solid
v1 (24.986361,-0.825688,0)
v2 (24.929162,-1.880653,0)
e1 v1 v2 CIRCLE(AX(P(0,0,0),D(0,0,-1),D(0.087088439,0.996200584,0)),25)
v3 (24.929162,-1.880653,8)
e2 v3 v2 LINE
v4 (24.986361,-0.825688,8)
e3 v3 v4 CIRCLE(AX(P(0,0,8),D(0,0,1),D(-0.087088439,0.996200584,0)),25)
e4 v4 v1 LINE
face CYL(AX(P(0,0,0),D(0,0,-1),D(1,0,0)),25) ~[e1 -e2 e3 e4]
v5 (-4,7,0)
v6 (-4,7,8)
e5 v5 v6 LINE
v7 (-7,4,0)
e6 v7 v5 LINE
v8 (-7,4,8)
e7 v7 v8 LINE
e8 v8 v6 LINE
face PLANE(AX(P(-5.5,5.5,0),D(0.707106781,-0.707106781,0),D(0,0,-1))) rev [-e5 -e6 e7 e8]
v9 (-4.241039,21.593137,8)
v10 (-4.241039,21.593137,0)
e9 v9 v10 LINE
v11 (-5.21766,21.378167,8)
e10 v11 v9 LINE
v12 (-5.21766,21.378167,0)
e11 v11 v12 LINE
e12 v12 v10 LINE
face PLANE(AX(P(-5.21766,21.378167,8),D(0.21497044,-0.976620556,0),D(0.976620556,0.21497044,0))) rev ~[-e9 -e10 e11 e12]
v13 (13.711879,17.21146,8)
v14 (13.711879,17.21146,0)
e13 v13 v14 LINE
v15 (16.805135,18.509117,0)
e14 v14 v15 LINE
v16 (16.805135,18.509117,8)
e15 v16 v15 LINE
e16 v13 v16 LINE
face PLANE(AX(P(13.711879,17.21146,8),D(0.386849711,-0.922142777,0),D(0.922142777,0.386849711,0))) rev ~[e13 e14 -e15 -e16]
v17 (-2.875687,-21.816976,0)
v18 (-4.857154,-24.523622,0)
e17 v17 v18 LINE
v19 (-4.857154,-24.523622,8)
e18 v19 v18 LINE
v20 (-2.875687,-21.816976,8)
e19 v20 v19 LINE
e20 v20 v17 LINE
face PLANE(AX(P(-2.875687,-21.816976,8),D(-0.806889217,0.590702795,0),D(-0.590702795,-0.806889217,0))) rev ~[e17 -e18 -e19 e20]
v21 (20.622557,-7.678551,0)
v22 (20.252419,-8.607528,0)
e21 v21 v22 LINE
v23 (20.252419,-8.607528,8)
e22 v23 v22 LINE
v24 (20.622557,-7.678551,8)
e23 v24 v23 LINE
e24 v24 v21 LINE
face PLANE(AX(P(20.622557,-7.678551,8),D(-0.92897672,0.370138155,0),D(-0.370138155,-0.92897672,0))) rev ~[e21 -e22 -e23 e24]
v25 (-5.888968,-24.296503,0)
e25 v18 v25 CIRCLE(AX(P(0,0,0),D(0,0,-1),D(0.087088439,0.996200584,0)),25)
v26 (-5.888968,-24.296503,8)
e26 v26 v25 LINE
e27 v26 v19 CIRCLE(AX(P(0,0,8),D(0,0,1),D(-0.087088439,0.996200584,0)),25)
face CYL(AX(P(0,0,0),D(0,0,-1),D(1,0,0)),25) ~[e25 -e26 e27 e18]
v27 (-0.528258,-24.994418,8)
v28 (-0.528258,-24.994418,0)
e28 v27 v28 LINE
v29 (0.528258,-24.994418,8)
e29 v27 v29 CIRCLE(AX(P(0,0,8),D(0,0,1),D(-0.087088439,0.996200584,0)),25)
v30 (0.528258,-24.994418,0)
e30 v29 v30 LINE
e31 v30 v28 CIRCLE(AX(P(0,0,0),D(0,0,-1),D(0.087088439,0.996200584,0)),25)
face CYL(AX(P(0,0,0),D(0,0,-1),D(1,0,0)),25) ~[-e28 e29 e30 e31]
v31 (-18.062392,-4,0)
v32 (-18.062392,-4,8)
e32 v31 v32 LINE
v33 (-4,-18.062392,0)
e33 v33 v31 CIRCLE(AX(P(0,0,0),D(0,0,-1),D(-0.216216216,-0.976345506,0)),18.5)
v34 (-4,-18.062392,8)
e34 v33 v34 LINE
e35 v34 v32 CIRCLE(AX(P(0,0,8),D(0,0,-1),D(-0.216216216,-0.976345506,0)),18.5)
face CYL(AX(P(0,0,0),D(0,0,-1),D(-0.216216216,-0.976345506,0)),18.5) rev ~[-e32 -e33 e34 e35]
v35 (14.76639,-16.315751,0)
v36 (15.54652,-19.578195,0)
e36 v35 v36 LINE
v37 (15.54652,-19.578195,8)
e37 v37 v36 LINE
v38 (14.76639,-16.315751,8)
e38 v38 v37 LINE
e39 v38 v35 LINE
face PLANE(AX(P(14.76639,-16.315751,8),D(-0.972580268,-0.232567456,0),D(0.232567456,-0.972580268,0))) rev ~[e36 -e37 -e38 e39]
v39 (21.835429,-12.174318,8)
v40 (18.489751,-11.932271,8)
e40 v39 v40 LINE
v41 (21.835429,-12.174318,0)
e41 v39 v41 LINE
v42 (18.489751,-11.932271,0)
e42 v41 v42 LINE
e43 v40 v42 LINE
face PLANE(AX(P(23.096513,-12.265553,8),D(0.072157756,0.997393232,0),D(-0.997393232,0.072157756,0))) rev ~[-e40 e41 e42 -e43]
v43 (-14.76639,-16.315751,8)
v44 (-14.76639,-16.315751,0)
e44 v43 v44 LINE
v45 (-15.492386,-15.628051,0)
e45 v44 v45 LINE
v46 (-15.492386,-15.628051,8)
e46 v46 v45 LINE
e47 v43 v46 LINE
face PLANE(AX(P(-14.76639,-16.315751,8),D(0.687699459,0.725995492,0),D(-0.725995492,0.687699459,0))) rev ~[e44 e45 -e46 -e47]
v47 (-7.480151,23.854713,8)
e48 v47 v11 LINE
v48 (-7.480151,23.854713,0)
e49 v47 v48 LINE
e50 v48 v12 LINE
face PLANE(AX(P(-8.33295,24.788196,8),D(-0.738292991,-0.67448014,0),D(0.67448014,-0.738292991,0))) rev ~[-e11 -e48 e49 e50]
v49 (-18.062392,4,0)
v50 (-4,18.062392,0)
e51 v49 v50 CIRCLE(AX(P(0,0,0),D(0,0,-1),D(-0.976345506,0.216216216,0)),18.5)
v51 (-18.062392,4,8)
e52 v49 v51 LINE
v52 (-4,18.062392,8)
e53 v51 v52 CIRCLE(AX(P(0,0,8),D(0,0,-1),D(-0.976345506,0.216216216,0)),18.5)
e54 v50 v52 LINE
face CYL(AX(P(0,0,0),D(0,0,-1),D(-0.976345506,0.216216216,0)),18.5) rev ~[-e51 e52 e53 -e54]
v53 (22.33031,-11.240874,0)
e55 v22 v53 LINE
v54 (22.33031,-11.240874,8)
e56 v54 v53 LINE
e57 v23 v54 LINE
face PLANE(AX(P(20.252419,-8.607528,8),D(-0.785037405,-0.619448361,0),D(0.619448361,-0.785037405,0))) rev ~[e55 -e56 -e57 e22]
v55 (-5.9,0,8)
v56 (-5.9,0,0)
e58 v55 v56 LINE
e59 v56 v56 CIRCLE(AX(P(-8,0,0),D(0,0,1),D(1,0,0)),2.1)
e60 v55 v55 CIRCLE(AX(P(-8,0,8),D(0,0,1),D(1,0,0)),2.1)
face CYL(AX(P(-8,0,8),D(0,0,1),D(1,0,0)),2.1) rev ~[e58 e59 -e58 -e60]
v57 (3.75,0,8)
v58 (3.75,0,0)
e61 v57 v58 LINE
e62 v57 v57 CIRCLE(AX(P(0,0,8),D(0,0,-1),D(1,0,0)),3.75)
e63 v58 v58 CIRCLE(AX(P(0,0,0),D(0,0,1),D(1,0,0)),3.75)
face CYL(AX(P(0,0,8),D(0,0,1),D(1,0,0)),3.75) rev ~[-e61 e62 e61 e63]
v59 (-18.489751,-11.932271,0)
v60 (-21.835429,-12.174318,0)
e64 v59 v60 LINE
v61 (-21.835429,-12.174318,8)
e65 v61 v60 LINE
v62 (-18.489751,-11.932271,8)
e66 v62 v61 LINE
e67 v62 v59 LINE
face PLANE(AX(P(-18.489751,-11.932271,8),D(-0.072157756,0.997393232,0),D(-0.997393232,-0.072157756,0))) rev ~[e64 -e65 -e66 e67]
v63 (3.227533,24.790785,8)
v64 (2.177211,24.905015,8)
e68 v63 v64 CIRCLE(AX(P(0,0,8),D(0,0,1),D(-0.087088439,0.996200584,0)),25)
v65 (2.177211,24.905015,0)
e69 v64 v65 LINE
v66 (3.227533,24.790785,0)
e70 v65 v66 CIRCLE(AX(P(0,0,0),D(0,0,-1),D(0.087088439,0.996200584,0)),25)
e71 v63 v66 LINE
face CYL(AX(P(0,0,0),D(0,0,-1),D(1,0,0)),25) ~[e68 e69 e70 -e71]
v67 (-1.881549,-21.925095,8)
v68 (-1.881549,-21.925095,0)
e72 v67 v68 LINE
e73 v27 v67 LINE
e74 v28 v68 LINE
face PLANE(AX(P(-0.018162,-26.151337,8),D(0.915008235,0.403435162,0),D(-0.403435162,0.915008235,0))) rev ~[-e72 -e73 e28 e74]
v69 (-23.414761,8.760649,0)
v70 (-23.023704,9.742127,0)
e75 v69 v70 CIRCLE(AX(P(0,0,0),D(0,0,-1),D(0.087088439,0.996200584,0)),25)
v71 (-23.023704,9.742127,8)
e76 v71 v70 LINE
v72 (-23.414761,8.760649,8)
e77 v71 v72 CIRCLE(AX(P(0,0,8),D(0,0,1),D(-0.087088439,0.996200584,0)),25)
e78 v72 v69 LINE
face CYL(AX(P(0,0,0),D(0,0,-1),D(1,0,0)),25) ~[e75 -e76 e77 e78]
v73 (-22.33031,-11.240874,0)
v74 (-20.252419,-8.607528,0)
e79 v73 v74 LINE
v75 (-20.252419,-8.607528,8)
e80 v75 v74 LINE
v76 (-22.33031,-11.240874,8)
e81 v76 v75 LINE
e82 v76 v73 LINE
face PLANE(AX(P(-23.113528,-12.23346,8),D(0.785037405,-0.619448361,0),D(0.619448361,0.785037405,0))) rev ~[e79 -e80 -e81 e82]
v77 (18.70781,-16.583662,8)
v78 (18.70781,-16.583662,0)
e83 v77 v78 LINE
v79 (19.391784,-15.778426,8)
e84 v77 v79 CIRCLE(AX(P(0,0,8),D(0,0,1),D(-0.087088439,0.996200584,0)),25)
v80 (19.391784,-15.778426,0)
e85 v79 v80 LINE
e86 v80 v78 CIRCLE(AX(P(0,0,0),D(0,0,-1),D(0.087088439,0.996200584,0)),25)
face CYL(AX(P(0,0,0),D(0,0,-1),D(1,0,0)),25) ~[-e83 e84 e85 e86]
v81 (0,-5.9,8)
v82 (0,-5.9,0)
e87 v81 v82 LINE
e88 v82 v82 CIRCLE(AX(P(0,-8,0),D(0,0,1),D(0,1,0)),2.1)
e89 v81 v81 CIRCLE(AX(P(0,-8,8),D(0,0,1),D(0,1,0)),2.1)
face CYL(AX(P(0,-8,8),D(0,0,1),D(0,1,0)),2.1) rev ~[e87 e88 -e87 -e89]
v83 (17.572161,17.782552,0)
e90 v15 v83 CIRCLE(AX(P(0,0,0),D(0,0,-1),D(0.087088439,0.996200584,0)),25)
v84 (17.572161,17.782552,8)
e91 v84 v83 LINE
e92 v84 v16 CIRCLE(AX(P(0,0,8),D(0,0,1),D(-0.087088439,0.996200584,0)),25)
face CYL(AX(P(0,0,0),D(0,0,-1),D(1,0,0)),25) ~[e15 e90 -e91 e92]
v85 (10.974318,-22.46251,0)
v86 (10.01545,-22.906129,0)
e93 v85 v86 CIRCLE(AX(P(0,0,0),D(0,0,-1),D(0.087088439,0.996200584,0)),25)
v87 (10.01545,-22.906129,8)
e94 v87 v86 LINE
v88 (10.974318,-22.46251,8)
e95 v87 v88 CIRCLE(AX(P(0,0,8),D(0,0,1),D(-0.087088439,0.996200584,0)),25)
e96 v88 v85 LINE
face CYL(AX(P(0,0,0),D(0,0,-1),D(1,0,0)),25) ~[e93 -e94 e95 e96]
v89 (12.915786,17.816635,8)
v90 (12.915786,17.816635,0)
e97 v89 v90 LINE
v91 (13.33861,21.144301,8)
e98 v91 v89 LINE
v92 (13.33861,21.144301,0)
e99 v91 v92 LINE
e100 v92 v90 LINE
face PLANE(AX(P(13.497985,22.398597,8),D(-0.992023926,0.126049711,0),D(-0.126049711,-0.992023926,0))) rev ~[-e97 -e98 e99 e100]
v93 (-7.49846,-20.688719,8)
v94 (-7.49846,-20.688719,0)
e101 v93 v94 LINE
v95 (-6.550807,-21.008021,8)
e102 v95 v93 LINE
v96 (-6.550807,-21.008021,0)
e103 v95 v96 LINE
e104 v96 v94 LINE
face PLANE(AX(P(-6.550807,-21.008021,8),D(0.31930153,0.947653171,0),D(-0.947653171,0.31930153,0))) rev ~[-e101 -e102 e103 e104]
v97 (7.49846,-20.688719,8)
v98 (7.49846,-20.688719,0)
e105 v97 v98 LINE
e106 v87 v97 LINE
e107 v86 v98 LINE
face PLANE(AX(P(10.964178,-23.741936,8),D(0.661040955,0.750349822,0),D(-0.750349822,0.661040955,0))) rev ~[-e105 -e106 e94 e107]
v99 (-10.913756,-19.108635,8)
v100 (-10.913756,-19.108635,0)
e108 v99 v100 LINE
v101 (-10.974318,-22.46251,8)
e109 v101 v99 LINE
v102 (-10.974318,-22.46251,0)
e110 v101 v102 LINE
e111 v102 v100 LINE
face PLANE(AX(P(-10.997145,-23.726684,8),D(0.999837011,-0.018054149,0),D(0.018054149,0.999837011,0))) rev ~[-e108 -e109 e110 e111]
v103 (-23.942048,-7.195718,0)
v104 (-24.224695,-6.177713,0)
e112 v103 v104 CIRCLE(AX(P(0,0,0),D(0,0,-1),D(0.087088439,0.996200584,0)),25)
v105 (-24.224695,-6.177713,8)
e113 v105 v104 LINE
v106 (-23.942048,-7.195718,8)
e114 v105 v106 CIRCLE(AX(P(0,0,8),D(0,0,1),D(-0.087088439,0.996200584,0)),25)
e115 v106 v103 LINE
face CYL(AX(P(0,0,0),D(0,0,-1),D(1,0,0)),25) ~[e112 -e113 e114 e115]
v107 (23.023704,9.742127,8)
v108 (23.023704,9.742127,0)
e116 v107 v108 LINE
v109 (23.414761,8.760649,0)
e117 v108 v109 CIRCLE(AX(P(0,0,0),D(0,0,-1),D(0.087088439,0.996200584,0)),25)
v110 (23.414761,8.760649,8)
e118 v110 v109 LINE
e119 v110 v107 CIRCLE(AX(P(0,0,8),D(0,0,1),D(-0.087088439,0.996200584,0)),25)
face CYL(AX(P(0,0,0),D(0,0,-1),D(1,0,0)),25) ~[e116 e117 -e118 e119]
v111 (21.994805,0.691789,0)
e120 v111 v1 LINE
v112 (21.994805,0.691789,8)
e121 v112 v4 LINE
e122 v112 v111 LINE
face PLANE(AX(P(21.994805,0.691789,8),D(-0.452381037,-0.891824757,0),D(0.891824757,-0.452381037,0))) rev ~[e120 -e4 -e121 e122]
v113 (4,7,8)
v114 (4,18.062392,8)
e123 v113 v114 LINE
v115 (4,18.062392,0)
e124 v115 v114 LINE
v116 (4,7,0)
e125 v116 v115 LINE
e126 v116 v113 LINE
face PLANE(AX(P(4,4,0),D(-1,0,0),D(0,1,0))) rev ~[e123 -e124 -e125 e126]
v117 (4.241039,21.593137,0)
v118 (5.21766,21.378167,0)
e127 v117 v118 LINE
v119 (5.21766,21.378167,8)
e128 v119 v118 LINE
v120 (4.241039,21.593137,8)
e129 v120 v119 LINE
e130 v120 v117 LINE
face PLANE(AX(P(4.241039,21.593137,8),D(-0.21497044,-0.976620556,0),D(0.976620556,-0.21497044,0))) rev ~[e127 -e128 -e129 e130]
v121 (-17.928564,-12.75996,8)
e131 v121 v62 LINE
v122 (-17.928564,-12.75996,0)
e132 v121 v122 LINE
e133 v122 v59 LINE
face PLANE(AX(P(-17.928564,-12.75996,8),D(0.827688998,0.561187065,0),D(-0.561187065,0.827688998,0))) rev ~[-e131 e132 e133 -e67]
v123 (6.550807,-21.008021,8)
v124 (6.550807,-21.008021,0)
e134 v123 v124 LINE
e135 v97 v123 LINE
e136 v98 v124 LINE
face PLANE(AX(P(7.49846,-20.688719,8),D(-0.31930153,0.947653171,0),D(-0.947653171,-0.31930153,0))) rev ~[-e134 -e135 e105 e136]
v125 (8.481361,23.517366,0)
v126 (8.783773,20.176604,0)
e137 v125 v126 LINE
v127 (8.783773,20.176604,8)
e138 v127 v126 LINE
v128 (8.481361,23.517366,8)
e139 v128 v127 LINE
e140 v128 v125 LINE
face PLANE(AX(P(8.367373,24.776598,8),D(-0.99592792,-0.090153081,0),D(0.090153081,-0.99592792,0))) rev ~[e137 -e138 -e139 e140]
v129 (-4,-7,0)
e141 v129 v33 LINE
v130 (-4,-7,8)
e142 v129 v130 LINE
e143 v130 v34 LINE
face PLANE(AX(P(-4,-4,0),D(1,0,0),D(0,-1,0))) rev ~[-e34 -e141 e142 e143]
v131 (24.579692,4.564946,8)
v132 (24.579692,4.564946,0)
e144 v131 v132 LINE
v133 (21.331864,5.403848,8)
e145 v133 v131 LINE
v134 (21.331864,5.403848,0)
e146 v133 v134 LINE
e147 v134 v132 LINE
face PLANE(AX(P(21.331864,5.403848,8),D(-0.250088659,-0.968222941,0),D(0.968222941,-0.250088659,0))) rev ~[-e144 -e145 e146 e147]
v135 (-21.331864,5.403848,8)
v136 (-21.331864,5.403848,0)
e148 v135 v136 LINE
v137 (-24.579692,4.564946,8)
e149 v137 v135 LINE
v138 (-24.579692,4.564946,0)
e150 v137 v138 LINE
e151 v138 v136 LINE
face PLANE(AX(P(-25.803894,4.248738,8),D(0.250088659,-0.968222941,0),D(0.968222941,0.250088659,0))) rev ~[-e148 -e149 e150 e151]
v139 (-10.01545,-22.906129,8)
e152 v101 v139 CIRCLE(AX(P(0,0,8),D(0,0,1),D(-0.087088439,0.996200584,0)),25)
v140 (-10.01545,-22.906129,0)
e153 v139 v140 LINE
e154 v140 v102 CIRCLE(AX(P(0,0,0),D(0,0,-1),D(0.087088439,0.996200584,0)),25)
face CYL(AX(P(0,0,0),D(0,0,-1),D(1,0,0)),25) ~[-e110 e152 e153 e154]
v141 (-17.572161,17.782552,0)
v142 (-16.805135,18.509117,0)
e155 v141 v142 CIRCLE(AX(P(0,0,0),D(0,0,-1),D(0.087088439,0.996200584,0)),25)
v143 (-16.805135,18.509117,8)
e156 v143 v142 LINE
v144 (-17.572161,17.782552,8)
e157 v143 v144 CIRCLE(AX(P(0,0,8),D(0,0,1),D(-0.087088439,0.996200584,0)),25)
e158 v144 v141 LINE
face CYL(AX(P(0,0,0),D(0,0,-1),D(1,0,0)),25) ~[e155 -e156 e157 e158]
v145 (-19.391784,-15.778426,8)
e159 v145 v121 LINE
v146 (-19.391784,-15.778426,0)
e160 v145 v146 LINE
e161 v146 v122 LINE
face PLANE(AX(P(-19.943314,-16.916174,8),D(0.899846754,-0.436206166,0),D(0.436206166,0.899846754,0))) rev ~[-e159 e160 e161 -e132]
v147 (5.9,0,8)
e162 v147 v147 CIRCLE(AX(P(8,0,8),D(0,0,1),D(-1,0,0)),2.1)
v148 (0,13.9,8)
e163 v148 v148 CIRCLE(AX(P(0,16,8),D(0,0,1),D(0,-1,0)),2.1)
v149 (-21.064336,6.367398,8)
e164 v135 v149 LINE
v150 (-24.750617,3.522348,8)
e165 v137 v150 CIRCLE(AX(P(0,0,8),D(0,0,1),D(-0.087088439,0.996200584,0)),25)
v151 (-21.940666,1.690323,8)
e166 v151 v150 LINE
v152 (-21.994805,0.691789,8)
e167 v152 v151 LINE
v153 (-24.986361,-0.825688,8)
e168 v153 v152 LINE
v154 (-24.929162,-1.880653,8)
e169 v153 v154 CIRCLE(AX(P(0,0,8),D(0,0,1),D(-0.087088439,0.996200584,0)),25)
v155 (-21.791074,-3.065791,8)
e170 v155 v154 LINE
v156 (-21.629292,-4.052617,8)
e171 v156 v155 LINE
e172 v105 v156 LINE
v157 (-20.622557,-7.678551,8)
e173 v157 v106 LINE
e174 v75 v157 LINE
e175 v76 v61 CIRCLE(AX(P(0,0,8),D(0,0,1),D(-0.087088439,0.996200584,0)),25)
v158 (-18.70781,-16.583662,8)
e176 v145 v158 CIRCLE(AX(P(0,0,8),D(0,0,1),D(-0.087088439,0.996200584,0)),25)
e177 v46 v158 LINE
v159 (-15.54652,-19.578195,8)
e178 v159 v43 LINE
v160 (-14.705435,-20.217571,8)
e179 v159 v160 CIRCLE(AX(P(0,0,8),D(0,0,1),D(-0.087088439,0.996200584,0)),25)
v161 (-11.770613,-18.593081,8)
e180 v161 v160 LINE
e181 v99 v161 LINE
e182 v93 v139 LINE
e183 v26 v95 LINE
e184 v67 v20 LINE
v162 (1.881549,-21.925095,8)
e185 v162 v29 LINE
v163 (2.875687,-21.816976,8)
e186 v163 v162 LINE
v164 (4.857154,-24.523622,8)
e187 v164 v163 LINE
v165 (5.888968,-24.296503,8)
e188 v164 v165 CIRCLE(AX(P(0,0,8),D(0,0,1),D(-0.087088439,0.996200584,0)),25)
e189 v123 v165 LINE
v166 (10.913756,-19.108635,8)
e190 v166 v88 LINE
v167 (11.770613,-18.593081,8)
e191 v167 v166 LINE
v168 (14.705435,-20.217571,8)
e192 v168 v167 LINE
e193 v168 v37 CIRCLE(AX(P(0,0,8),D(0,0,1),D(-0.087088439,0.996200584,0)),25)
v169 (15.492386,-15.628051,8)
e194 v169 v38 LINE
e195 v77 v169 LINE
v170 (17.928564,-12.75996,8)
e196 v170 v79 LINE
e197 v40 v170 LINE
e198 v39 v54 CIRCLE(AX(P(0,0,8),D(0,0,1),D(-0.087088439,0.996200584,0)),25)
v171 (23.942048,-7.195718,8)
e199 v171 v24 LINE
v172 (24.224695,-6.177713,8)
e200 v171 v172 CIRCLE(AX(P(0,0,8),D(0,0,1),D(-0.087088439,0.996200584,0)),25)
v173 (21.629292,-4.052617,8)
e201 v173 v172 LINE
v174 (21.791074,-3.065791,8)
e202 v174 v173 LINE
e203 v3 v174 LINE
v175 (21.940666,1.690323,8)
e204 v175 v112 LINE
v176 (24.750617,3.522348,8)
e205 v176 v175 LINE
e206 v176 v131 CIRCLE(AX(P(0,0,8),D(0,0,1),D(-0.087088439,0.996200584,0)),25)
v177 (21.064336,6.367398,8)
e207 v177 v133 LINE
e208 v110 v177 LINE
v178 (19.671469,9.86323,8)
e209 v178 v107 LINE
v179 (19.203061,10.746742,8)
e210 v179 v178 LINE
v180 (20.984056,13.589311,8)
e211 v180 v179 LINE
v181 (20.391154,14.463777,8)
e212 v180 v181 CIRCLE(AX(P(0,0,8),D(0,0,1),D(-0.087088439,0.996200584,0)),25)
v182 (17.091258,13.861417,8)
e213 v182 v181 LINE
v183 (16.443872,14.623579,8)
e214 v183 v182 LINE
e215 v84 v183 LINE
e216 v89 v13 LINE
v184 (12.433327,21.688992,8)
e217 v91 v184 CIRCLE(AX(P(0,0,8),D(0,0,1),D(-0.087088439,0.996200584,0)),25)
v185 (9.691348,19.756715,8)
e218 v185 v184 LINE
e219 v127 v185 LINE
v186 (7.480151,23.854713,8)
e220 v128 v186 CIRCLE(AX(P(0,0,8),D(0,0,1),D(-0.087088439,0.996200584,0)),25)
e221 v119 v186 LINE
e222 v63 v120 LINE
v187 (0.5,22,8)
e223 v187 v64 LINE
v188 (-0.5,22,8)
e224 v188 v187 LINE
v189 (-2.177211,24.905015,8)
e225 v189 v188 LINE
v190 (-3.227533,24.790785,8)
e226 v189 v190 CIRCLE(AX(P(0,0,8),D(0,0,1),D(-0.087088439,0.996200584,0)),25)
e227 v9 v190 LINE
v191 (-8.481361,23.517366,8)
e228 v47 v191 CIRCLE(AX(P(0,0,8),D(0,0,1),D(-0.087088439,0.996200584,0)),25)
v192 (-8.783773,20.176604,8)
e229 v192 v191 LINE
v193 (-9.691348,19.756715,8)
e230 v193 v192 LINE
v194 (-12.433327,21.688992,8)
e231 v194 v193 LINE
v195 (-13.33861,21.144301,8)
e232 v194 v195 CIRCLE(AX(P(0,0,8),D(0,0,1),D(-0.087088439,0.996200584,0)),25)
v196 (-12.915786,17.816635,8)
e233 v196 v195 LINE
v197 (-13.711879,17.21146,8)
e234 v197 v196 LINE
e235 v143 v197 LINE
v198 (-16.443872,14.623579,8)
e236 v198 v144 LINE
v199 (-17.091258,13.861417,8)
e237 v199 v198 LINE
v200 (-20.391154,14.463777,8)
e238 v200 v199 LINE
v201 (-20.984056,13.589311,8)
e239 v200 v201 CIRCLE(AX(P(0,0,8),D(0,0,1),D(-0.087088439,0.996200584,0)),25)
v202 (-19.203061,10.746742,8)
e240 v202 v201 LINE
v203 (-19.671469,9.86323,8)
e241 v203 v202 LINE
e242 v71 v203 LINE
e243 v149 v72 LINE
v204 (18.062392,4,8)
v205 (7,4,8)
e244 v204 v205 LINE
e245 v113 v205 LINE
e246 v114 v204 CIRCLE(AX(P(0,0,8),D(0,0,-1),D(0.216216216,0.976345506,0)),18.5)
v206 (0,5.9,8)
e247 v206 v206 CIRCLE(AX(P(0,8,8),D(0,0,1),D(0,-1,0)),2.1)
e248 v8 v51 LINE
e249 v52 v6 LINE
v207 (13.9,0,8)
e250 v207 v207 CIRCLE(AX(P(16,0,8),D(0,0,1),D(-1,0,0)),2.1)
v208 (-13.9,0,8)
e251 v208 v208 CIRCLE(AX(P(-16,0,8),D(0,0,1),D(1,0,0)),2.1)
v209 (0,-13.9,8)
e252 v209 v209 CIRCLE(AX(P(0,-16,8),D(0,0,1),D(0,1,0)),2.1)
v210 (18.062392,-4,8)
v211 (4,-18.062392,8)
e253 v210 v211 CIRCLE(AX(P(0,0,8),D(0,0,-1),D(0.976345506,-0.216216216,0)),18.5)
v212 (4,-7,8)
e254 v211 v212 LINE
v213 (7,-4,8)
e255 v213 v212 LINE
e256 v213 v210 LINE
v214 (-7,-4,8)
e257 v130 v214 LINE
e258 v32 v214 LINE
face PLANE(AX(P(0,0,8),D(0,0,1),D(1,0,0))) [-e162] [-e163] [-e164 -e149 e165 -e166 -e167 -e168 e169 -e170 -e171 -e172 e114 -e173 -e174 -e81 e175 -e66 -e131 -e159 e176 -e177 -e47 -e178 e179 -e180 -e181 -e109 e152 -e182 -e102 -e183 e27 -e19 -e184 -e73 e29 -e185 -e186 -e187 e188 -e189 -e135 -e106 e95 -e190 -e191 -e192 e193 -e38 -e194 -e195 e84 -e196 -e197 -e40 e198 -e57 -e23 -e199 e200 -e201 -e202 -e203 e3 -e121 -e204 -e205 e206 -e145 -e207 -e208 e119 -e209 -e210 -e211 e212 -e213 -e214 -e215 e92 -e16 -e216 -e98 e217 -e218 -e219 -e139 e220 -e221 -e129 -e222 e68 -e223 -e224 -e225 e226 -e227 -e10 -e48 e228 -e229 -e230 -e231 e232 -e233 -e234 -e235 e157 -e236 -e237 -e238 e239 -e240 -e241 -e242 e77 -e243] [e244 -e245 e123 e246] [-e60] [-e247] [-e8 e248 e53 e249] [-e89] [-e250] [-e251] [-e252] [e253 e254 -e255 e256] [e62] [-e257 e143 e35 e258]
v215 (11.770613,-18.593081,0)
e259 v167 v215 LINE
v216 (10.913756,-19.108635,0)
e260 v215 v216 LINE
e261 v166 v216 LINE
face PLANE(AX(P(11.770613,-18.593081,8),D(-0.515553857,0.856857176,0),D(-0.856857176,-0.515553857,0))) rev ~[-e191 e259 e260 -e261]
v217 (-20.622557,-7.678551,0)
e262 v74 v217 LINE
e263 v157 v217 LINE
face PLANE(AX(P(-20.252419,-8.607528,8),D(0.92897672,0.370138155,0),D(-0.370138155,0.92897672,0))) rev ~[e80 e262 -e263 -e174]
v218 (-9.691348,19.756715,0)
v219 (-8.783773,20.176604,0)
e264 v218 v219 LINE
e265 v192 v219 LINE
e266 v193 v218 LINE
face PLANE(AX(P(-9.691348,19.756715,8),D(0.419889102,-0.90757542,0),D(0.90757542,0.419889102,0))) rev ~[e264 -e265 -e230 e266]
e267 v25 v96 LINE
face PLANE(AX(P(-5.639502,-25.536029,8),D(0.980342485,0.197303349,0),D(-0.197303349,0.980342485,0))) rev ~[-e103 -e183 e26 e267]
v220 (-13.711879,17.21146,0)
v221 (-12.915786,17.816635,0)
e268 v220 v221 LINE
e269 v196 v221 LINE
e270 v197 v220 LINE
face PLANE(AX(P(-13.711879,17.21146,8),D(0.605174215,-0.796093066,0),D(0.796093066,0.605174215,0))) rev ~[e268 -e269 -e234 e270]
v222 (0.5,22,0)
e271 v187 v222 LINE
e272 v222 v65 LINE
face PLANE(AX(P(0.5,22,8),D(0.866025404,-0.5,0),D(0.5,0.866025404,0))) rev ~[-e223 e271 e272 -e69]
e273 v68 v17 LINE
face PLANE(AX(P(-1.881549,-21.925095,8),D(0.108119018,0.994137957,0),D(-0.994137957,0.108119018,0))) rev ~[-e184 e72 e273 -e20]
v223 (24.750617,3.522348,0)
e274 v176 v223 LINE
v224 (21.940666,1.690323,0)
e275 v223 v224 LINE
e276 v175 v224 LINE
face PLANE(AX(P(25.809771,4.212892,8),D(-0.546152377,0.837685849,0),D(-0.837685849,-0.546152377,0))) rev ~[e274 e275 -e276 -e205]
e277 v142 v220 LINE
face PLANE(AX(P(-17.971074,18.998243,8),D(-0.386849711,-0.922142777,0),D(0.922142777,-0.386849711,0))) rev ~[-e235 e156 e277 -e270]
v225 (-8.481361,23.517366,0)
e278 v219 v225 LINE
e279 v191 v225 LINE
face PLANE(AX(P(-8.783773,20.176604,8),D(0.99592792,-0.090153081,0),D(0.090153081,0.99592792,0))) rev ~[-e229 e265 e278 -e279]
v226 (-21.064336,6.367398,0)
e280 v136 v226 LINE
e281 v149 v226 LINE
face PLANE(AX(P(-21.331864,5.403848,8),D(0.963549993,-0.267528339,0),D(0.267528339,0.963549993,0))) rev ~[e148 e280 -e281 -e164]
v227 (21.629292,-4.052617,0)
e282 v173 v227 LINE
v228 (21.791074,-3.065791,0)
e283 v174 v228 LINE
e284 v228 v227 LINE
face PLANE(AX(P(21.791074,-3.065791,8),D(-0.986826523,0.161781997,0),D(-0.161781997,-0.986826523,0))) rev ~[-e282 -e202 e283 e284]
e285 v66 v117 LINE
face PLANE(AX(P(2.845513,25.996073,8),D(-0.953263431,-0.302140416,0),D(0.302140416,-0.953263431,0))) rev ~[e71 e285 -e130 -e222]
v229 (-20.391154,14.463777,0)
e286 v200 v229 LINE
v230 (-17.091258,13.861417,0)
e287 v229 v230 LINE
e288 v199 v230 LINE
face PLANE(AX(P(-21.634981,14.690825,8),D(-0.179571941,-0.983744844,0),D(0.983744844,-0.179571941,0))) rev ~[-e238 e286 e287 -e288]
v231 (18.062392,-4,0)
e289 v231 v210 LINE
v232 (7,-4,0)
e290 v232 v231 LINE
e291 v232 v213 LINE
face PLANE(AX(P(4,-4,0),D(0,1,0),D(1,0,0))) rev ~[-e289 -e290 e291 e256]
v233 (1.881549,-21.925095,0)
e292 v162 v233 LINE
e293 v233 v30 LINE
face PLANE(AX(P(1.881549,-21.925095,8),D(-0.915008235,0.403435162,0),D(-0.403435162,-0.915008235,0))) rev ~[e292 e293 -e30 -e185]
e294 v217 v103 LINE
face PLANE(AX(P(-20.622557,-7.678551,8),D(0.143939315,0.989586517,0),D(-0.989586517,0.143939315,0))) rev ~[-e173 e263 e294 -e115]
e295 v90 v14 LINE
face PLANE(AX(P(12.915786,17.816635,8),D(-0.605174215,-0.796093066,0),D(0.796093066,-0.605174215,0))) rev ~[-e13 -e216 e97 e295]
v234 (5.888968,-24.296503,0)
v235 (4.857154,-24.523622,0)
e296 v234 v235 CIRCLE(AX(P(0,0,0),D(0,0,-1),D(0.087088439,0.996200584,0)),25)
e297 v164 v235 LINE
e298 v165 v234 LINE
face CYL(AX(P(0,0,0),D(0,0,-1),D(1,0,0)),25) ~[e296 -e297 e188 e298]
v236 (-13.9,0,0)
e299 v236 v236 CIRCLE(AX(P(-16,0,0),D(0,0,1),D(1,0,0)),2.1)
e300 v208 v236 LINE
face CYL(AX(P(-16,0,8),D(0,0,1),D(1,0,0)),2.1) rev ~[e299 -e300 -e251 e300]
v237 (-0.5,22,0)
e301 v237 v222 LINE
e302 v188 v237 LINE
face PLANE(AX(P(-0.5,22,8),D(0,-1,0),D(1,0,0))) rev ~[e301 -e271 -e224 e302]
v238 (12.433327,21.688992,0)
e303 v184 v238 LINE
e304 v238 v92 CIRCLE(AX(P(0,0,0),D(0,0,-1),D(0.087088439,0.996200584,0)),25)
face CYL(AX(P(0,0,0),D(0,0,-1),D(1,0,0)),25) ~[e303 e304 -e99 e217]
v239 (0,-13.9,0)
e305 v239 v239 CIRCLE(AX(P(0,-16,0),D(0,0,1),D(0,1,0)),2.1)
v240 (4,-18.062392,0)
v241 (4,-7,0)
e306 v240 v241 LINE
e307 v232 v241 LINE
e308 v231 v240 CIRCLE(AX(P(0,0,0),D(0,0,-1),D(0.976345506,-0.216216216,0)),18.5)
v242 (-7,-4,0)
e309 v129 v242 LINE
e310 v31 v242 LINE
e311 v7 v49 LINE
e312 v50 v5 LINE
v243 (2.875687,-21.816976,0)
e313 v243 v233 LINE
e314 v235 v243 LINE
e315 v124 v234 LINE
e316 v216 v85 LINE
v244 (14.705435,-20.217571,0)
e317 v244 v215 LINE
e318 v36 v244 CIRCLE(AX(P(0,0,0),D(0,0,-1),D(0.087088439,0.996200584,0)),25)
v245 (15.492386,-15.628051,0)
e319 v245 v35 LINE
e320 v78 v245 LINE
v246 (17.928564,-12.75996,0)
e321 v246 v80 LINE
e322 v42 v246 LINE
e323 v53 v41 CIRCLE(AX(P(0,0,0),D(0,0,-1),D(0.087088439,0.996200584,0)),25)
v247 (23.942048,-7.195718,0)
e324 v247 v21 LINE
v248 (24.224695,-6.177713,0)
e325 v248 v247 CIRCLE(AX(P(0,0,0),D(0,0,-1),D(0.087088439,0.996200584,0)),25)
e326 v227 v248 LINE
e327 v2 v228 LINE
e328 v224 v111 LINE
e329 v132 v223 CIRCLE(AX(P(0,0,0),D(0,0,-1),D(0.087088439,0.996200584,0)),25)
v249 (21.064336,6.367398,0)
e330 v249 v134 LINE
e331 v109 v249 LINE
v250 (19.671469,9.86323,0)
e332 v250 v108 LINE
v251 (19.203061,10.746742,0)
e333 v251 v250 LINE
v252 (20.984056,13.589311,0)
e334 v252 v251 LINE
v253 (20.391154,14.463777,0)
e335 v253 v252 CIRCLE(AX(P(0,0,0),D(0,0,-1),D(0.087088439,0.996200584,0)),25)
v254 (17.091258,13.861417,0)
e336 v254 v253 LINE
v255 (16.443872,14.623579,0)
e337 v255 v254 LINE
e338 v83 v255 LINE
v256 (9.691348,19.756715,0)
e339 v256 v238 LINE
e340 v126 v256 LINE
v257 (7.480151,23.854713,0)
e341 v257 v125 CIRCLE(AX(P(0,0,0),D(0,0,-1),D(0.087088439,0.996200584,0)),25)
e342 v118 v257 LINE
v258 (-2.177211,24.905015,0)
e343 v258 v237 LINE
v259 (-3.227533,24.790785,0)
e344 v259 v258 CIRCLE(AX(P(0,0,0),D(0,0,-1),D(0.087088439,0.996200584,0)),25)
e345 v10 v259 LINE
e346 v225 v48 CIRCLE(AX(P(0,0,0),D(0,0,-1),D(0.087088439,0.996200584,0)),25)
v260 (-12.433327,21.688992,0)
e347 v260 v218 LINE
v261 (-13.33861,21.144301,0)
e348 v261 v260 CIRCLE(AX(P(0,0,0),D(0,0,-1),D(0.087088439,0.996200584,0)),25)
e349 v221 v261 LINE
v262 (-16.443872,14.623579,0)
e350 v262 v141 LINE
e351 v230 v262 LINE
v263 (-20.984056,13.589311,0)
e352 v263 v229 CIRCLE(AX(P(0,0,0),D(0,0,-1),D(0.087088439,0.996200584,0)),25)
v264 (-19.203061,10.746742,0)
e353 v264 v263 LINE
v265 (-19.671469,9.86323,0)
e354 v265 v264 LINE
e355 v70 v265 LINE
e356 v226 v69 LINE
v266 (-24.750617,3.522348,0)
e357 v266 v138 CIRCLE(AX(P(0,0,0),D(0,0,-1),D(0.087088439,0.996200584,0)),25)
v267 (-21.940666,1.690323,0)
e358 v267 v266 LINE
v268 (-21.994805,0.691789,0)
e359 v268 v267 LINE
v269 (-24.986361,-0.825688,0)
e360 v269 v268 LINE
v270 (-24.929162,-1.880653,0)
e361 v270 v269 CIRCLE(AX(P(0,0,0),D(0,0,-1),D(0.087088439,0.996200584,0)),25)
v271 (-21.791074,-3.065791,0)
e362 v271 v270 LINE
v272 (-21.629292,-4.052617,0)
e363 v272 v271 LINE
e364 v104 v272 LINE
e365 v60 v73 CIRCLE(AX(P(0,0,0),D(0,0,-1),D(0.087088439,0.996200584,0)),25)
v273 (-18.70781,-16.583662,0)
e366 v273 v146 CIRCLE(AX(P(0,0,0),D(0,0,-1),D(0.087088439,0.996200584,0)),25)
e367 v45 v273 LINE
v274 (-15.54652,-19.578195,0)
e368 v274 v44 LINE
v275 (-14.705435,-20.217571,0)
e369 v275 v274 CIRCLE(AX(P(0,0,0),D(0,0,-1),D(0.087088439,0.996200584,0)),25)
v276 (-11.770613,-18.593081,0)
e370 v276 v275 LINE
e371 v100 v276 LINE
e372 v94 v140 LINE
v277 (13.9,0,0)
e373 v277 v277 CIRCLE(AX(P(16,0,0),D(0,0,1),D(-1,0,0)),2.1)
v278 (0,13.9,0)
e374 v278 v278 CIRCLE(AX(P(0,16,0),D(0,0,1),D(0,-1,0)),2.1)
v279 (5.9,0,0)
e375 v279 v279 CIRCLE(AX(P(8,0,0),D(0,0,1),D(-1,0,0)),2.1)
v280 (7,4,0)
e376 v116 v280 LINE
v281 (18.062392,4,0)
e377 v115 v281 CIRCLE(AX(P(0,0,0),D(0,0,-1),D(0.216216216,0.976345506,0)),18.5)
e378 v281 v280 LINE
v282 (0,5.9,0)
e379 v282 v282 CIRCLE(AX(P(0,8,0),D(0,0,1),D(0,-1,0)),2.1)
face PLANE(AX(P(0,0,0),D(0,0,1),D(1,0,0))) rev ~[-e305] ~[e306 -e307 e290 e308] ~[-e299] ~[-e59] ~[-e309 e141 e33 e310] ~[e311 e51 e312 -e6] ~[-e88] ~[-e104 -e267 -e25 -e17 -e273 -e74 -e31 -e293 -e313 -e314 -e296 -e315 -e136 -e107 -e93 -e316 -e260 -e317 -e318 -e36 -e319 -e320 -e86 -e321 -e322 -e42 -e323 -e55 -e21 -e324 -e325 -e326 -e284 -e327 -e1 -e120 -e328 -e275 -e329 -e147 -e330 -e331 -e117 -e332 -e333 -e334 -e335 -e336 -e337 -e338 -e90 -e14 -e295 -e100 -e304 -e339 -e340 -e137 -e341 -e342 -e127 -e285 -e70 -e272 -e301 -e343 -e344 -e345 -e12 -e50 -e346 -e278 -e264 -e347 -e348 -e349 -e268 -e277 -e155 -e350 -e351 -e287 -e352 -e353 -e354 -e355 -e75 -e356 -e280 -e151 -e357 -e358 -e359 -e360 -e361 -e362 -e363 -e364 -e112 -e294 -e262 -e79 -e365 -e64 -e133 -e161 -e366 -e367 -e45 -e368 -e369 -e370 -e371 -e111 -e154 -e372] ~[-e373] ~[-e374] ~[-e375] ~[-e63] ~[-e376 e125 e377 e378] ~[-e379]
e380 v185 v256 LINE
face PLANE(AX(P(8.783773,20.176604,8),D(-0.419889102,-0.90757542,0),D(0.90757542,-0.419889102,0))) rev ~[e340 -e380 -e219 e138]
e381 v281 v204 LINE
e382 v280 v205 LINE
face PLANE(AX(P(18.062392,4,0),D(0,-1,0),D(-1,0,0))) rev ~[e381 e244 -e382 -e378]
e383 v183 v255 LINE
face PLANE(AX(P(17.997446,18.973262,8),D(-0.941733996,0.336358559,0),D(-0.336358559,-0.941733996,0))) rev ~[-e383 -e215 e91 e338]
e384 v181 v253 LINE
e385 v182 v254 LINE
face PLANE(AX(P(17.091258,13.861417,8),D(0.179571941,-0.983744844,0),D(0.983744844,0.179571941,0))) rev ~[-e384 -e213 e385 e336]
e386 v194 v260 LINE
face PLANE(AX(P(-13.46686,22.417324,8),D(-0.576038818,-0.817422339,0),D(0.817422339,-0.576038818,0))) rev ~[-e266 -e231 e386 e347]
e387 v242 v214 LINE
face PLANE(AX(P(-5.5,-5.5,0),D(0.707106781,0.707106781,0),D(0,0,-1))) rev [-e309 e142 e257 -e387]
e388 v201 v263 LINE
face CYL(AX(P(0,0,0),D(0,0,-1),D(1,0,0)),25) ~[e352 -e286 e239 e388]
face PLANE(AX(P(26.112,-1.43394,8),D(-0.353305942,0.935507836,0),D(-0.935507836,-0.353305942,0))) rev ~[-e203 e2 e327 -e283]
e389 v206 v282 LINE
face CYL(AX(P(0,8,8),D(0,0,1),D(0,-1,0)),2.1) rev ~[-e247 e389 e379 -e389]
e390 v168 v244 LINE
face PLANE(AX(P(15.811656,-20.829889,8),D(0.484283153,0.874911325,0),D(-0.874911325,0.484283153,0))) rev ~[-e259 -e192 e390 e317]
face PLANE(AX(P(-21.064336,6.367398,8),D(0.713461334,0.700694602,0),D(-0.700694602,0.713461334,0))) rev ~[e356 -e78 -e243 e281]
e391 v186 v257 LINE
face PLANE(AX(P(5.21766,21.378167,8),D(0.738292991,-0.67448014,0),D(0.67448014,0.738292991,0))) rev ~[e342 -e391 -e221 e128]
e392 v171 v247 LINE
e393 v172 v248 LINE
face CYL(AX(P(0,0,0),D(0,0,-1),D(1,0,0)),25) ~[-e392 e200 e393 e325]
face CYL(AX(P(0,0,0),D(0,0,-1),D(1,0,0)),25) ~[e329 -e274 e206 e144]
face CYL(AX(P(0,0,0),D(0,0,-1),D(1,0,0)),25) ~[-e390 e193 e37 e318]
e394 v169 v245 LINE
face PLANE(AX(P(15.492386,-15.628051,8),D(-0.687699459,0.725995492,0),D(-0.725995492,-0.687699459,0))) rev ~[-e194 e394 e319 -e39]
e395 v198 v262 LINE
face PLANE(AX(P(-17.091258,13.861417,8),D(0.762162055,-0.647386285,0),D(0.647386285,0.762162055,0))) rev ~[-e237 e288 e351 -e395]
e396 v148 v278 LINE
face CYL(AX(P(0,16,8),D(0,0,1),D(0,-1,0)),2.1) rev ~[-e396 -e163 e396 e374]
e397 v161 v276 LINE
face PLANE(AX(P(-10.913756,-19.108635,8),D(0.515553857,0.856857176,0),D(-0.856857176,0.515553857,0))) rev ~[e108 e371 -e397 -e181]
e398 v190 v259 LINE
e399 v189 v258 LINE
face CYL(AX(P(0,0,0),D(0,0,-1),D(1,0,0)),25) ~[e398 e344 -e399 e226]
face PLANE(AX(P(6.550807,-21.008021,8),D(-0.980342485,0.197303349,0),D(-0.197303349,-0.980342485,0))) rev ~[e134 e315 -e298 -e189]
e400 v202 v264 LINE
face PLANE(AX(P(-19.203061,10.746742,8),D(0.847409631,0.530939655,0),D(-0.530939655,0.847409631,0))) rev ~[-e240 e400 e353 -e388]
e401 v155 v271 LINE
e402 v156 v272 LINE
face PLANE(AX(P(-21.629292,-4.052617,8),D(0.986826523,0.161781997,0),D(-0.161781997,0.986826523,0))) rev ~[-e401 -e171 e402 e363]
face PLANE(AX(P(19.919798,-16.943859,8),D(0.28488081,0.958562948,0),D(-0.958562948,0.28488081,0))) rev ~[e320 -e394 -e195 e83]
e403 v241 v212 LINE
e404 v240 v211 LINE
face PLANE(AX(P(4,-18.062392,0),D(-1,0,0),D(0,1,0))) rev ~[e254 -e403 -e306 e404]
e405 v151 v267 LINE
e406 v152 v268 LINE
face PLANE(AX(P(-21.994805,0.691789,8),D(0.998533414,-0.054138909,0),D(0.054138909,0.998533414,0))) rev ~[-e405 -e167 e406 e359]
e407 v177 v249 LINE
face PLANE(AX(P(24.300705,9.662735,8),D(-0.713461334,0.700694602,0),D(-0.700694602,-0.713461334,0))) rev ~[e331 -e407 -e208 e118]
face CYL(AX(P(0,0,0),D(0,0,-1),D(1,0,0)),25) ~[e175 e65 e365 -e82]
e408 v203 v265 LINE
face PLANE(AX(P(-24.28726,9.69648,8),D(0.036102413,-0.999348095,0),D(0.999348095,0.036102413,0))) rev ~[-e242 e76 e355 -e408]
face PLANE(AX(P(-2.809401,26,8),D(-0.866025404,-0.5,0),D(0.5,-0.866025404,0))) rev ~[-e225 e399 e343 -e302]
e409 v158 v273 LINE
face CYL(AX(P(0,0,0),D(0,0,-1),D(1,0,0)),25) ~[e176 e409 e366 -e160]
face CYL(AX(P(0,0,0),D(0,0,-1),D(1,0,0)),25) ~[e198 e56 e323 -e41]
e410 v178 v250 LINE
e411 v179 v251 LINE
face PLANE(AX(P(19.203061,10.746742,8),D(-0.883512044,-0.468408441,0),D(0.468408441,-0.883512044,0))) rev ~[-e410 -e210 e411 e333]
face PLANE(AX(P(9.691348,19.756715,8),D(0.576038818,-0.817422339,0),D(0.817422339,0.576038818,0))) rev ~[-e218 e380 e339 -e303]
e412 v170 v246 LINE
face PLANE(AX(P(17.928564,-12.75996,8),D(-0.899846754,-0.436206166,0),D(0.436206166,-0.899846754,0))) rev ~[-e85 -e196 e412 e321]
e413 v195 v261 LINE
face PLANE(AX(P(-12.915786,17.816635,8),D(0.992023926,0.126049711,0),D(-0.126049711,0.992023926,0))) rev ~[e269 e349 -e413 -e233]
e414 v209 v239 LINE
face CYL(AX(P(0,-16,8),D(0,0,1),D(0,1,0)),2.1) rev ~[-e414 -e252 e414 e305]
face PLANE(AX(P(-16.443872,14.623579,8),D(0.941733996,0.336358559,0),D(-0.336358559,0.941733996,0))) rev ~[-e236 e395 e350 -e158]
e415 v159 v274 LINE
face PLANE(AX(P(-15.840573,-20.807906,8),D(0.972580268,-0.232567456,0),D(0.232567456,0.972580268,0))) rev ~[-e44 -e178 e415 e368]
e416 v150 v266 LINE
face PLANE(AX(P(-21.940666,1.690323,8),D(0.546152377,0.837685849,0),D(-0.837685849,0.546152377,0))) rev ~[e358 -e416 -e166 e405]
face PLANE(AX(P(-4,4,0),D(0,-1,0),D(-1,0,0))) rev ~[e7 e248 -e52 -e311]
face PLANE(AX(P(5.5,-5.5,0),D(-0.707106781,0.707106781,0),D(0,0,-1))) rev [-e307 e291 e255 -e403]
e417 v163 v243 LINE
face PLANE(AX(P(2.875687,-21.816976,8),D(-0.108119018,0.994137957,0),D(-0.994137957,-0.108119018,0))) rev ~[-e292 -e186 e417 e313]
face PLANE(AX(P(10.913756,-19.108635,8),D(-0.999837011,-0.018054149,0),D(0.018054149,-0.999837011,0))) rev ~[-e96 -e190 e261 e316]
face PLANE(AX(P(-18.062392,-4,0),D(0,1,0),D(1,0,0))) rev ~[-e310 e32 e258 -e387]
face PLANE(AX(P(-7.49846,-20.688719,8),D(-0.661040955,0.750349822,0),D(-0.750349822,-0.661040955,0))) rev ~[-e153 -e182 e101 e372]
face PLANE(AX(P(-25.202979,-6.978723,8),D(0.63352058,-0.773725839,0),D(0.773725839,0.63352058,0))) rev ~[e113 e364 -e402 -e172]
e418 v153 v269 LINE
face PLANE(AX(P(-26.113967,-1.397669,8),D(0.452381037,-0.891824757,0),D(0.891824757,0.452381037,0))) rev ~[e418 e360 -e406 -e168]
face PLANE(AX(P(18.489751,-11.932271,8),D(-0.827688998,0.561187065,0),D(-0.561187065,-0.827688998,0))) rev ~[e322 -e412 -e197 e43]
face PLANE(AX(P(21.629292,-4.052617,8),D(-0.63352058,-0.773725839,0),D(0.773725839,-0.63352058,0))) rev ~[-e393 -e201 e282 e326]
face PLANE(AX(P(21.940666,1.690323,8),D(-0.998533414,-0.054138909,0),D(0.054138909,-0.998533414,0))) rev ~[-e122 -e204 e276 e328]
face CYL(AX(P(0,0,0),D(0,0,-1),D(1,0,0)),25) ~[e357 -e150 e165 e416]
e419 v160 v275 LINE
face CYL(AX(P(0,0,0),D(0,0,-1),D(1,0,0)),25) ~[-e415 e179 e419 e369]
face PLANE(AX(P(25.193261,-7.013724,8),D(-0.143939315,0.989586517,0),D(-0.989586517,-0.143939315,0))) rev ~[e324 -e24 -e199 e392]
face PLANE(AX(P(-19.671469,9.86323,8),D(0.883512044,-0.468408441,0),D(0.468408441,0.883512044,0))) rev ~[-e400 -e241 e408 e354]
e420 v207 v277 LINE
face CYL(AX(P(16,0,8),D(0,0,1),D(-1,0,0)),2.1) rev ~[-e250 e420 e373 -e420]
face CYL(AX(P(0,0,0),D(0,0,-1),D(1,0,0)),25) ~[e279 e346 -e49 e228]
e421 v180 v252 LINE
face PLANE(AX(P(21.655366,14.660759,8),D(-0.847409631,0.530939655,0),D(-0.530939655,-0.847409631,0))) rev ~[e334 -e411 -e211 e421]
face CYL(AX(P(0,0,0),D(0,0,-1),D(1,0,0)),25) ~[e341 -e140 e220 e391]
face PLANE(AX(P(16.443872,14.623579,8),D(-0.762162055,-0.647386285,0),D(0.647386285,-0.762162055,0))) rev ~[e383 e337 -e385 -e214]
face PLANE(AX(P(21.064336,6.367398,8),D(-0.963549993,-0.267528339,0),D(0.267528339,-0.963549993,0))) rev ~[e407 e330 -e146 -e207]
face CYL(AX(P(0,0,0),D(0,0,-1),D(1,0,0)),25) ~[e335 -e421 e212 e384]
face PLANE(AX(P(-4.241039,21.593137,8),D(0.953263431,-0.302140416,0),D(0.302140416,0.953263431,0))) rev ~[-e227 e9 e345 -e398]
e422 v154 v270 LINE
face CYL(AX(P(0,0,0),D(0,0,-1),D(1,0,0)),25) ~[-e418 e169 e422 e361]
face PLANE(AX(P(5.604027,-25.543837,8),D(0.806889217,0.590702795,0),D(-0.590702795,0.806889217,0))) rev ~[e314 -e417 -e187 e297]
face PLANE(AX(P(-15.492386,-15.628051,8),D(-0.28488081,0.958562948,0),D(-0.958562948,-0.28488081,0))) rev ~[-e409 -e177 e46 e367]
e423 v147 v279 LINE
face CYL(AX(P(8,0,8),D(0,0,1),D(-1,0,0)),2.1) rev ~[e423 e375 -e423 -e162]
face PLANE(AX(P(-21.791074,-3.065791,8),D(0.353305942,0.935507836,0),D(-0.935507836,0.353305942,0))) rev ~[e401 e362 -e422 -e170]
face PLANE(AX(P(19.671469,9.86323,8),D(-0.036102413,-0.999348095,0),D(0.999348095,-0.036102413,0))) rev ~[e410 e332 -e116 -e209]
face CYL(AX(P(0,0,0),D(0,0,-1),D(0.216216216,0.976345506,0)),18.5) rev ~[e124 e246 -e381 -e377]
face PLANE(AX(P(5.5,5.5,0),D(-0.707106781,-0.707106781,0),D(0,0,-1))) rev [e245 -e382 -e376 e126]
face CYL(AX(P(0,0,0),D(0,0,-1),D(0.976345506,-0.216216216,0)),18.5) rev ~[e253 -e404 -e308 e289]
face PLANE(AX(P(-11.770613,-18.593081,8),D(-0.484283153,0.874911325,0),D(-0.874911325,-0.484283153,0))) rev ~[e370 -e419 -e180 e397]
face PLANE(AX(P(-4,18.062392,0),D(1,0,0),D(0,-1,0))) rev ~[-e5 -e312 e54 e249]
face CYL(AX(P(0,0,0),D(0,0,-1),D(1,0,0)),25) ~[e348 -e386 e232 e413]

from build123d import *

# Parameters (mm, degrees)
SKETCH1_R           = 25
BOSS_EXTRUDE1_DEPTH = 8
CHAMFER1_SIZE       = 3
SKETCH2_R           = 3.75
SKETCH2_R_2         = 2.1
CUT_EXTRUDE1_DEPTH  = 10
CUT_EXTRUDE4_DEPTH  = 10
CIRPATTERN1_COUNT   = 29
CIRPATTERN2_COUNT   = 4


with BuildPart() as part:
    # Sketch1 → Boss-Extrude1 (new body)
    with BuildSketch(Plane.XY):
        Circle(SKETCH1_R)
        with BuildLine():
            Line((-4, 18.062391868), (-4, 4))
            Line((-4, 4), (-18.062391868, 4))
            ThreePointArc((-18.062391868, 4), (-13.081475452, 13.081475452), (-4, 18.062391868))
        make_face(mode=Mode.SUBTRACT)
        with BuildLine():
            Line((-18.062391868, -4), (-4, -4))
            Line((-4, -4), (-4, -18.062391868))
            ThreePointArc((-4, -18.062391868), (-13.081475452, -13.081475452), (-18.062391868, -4))
        make_face(mode=Mode.SUBTRACT)
        with BuildLine():
            Line((4, -18.062391868), (4, -4))
            Line((4, -4), (18.062391868, -4))
            ThreePointArc((18.062391868, -4), (13.081475452, -13.081475452), (4, -18.062391868))
        make_face(mode=Mode.SUBTRACT)
        with BuildLine():
            Line((18.062391868, 4), (4, 4))
            Line((4, 4), (4, 18.062391868))
            ThreePointArc((4, 18.062391868), (13.081475452, 13.081475452), (18.062391868, 4))
        make_face(mode=Mode.SUBTRACT)
    extrude(amount=BOSS_EXTRUDE1_DEPTH)

    # Chamfer1
    chamfer1_edges = [part.edges().sort_by_distance(p)[0] for p in [
        (-4, 4, 4),
        (4, 4, 4),
        (-4, -4, 4),
        (4, -4, 4),
    ]]
    chamfer(chamfer1_edges, length=CHAMFER1_SIZE)

    # Sketch2 → Cut-Extrude1 (cut)
    with BuildSketch(Plane.XY.offset(8)):
        Circle(SKETCH2_R)
        with Locations((-8, 0)):
            Circle(SKETCH2_R_2)
        with Locations((-16, 0)):
            Circle(SKETCH2_R_2)
    cut_extrude1 = extrude(amount=-CUT_EXTRUDE1_DEPTH, mode=Mode.SUBTRACT)

    # Sketch3 → Cut-Extrude4 (cut)
    with BuildSketch(Plane.XY.offset(8)):
        Polygon((-2.809401077, 26), (-0.5, 22), (0.5, 22), (2.809401077, 26), align=None)
    cut_extrude4 = extrude(amount=-CUT_EXTRUDE4_DEPTH, mode=Mode.SUBTRACT)

    # CirPattern1: Cut-Extrude4 ×29 about axis
    cirpattern1_axis = Axis((0, 0, 0), (0, 0, 1))
    for i in range(1, CIRPATTERN1_COUNT):
        add(cut_extrude4.rotate(cirpattern1_axis, i * 360 / CIRPATTERN1_COUNT), mode=Mode.SUBTRACT)

    # CirPattern2: Cut-Extrude1 ×4 about axis
    cirpattern2_axis = Axis((0, 0, 0), (0, 0, 1))
    for i in range(1, CIRPATTERN2_COUNT):
        add(cut_extrude1.rotate(cirpattern2_axis, i * 360 / CIRPATTERN2_COUNT), mode=Mode.SUBTRACT)


solid = part.part
